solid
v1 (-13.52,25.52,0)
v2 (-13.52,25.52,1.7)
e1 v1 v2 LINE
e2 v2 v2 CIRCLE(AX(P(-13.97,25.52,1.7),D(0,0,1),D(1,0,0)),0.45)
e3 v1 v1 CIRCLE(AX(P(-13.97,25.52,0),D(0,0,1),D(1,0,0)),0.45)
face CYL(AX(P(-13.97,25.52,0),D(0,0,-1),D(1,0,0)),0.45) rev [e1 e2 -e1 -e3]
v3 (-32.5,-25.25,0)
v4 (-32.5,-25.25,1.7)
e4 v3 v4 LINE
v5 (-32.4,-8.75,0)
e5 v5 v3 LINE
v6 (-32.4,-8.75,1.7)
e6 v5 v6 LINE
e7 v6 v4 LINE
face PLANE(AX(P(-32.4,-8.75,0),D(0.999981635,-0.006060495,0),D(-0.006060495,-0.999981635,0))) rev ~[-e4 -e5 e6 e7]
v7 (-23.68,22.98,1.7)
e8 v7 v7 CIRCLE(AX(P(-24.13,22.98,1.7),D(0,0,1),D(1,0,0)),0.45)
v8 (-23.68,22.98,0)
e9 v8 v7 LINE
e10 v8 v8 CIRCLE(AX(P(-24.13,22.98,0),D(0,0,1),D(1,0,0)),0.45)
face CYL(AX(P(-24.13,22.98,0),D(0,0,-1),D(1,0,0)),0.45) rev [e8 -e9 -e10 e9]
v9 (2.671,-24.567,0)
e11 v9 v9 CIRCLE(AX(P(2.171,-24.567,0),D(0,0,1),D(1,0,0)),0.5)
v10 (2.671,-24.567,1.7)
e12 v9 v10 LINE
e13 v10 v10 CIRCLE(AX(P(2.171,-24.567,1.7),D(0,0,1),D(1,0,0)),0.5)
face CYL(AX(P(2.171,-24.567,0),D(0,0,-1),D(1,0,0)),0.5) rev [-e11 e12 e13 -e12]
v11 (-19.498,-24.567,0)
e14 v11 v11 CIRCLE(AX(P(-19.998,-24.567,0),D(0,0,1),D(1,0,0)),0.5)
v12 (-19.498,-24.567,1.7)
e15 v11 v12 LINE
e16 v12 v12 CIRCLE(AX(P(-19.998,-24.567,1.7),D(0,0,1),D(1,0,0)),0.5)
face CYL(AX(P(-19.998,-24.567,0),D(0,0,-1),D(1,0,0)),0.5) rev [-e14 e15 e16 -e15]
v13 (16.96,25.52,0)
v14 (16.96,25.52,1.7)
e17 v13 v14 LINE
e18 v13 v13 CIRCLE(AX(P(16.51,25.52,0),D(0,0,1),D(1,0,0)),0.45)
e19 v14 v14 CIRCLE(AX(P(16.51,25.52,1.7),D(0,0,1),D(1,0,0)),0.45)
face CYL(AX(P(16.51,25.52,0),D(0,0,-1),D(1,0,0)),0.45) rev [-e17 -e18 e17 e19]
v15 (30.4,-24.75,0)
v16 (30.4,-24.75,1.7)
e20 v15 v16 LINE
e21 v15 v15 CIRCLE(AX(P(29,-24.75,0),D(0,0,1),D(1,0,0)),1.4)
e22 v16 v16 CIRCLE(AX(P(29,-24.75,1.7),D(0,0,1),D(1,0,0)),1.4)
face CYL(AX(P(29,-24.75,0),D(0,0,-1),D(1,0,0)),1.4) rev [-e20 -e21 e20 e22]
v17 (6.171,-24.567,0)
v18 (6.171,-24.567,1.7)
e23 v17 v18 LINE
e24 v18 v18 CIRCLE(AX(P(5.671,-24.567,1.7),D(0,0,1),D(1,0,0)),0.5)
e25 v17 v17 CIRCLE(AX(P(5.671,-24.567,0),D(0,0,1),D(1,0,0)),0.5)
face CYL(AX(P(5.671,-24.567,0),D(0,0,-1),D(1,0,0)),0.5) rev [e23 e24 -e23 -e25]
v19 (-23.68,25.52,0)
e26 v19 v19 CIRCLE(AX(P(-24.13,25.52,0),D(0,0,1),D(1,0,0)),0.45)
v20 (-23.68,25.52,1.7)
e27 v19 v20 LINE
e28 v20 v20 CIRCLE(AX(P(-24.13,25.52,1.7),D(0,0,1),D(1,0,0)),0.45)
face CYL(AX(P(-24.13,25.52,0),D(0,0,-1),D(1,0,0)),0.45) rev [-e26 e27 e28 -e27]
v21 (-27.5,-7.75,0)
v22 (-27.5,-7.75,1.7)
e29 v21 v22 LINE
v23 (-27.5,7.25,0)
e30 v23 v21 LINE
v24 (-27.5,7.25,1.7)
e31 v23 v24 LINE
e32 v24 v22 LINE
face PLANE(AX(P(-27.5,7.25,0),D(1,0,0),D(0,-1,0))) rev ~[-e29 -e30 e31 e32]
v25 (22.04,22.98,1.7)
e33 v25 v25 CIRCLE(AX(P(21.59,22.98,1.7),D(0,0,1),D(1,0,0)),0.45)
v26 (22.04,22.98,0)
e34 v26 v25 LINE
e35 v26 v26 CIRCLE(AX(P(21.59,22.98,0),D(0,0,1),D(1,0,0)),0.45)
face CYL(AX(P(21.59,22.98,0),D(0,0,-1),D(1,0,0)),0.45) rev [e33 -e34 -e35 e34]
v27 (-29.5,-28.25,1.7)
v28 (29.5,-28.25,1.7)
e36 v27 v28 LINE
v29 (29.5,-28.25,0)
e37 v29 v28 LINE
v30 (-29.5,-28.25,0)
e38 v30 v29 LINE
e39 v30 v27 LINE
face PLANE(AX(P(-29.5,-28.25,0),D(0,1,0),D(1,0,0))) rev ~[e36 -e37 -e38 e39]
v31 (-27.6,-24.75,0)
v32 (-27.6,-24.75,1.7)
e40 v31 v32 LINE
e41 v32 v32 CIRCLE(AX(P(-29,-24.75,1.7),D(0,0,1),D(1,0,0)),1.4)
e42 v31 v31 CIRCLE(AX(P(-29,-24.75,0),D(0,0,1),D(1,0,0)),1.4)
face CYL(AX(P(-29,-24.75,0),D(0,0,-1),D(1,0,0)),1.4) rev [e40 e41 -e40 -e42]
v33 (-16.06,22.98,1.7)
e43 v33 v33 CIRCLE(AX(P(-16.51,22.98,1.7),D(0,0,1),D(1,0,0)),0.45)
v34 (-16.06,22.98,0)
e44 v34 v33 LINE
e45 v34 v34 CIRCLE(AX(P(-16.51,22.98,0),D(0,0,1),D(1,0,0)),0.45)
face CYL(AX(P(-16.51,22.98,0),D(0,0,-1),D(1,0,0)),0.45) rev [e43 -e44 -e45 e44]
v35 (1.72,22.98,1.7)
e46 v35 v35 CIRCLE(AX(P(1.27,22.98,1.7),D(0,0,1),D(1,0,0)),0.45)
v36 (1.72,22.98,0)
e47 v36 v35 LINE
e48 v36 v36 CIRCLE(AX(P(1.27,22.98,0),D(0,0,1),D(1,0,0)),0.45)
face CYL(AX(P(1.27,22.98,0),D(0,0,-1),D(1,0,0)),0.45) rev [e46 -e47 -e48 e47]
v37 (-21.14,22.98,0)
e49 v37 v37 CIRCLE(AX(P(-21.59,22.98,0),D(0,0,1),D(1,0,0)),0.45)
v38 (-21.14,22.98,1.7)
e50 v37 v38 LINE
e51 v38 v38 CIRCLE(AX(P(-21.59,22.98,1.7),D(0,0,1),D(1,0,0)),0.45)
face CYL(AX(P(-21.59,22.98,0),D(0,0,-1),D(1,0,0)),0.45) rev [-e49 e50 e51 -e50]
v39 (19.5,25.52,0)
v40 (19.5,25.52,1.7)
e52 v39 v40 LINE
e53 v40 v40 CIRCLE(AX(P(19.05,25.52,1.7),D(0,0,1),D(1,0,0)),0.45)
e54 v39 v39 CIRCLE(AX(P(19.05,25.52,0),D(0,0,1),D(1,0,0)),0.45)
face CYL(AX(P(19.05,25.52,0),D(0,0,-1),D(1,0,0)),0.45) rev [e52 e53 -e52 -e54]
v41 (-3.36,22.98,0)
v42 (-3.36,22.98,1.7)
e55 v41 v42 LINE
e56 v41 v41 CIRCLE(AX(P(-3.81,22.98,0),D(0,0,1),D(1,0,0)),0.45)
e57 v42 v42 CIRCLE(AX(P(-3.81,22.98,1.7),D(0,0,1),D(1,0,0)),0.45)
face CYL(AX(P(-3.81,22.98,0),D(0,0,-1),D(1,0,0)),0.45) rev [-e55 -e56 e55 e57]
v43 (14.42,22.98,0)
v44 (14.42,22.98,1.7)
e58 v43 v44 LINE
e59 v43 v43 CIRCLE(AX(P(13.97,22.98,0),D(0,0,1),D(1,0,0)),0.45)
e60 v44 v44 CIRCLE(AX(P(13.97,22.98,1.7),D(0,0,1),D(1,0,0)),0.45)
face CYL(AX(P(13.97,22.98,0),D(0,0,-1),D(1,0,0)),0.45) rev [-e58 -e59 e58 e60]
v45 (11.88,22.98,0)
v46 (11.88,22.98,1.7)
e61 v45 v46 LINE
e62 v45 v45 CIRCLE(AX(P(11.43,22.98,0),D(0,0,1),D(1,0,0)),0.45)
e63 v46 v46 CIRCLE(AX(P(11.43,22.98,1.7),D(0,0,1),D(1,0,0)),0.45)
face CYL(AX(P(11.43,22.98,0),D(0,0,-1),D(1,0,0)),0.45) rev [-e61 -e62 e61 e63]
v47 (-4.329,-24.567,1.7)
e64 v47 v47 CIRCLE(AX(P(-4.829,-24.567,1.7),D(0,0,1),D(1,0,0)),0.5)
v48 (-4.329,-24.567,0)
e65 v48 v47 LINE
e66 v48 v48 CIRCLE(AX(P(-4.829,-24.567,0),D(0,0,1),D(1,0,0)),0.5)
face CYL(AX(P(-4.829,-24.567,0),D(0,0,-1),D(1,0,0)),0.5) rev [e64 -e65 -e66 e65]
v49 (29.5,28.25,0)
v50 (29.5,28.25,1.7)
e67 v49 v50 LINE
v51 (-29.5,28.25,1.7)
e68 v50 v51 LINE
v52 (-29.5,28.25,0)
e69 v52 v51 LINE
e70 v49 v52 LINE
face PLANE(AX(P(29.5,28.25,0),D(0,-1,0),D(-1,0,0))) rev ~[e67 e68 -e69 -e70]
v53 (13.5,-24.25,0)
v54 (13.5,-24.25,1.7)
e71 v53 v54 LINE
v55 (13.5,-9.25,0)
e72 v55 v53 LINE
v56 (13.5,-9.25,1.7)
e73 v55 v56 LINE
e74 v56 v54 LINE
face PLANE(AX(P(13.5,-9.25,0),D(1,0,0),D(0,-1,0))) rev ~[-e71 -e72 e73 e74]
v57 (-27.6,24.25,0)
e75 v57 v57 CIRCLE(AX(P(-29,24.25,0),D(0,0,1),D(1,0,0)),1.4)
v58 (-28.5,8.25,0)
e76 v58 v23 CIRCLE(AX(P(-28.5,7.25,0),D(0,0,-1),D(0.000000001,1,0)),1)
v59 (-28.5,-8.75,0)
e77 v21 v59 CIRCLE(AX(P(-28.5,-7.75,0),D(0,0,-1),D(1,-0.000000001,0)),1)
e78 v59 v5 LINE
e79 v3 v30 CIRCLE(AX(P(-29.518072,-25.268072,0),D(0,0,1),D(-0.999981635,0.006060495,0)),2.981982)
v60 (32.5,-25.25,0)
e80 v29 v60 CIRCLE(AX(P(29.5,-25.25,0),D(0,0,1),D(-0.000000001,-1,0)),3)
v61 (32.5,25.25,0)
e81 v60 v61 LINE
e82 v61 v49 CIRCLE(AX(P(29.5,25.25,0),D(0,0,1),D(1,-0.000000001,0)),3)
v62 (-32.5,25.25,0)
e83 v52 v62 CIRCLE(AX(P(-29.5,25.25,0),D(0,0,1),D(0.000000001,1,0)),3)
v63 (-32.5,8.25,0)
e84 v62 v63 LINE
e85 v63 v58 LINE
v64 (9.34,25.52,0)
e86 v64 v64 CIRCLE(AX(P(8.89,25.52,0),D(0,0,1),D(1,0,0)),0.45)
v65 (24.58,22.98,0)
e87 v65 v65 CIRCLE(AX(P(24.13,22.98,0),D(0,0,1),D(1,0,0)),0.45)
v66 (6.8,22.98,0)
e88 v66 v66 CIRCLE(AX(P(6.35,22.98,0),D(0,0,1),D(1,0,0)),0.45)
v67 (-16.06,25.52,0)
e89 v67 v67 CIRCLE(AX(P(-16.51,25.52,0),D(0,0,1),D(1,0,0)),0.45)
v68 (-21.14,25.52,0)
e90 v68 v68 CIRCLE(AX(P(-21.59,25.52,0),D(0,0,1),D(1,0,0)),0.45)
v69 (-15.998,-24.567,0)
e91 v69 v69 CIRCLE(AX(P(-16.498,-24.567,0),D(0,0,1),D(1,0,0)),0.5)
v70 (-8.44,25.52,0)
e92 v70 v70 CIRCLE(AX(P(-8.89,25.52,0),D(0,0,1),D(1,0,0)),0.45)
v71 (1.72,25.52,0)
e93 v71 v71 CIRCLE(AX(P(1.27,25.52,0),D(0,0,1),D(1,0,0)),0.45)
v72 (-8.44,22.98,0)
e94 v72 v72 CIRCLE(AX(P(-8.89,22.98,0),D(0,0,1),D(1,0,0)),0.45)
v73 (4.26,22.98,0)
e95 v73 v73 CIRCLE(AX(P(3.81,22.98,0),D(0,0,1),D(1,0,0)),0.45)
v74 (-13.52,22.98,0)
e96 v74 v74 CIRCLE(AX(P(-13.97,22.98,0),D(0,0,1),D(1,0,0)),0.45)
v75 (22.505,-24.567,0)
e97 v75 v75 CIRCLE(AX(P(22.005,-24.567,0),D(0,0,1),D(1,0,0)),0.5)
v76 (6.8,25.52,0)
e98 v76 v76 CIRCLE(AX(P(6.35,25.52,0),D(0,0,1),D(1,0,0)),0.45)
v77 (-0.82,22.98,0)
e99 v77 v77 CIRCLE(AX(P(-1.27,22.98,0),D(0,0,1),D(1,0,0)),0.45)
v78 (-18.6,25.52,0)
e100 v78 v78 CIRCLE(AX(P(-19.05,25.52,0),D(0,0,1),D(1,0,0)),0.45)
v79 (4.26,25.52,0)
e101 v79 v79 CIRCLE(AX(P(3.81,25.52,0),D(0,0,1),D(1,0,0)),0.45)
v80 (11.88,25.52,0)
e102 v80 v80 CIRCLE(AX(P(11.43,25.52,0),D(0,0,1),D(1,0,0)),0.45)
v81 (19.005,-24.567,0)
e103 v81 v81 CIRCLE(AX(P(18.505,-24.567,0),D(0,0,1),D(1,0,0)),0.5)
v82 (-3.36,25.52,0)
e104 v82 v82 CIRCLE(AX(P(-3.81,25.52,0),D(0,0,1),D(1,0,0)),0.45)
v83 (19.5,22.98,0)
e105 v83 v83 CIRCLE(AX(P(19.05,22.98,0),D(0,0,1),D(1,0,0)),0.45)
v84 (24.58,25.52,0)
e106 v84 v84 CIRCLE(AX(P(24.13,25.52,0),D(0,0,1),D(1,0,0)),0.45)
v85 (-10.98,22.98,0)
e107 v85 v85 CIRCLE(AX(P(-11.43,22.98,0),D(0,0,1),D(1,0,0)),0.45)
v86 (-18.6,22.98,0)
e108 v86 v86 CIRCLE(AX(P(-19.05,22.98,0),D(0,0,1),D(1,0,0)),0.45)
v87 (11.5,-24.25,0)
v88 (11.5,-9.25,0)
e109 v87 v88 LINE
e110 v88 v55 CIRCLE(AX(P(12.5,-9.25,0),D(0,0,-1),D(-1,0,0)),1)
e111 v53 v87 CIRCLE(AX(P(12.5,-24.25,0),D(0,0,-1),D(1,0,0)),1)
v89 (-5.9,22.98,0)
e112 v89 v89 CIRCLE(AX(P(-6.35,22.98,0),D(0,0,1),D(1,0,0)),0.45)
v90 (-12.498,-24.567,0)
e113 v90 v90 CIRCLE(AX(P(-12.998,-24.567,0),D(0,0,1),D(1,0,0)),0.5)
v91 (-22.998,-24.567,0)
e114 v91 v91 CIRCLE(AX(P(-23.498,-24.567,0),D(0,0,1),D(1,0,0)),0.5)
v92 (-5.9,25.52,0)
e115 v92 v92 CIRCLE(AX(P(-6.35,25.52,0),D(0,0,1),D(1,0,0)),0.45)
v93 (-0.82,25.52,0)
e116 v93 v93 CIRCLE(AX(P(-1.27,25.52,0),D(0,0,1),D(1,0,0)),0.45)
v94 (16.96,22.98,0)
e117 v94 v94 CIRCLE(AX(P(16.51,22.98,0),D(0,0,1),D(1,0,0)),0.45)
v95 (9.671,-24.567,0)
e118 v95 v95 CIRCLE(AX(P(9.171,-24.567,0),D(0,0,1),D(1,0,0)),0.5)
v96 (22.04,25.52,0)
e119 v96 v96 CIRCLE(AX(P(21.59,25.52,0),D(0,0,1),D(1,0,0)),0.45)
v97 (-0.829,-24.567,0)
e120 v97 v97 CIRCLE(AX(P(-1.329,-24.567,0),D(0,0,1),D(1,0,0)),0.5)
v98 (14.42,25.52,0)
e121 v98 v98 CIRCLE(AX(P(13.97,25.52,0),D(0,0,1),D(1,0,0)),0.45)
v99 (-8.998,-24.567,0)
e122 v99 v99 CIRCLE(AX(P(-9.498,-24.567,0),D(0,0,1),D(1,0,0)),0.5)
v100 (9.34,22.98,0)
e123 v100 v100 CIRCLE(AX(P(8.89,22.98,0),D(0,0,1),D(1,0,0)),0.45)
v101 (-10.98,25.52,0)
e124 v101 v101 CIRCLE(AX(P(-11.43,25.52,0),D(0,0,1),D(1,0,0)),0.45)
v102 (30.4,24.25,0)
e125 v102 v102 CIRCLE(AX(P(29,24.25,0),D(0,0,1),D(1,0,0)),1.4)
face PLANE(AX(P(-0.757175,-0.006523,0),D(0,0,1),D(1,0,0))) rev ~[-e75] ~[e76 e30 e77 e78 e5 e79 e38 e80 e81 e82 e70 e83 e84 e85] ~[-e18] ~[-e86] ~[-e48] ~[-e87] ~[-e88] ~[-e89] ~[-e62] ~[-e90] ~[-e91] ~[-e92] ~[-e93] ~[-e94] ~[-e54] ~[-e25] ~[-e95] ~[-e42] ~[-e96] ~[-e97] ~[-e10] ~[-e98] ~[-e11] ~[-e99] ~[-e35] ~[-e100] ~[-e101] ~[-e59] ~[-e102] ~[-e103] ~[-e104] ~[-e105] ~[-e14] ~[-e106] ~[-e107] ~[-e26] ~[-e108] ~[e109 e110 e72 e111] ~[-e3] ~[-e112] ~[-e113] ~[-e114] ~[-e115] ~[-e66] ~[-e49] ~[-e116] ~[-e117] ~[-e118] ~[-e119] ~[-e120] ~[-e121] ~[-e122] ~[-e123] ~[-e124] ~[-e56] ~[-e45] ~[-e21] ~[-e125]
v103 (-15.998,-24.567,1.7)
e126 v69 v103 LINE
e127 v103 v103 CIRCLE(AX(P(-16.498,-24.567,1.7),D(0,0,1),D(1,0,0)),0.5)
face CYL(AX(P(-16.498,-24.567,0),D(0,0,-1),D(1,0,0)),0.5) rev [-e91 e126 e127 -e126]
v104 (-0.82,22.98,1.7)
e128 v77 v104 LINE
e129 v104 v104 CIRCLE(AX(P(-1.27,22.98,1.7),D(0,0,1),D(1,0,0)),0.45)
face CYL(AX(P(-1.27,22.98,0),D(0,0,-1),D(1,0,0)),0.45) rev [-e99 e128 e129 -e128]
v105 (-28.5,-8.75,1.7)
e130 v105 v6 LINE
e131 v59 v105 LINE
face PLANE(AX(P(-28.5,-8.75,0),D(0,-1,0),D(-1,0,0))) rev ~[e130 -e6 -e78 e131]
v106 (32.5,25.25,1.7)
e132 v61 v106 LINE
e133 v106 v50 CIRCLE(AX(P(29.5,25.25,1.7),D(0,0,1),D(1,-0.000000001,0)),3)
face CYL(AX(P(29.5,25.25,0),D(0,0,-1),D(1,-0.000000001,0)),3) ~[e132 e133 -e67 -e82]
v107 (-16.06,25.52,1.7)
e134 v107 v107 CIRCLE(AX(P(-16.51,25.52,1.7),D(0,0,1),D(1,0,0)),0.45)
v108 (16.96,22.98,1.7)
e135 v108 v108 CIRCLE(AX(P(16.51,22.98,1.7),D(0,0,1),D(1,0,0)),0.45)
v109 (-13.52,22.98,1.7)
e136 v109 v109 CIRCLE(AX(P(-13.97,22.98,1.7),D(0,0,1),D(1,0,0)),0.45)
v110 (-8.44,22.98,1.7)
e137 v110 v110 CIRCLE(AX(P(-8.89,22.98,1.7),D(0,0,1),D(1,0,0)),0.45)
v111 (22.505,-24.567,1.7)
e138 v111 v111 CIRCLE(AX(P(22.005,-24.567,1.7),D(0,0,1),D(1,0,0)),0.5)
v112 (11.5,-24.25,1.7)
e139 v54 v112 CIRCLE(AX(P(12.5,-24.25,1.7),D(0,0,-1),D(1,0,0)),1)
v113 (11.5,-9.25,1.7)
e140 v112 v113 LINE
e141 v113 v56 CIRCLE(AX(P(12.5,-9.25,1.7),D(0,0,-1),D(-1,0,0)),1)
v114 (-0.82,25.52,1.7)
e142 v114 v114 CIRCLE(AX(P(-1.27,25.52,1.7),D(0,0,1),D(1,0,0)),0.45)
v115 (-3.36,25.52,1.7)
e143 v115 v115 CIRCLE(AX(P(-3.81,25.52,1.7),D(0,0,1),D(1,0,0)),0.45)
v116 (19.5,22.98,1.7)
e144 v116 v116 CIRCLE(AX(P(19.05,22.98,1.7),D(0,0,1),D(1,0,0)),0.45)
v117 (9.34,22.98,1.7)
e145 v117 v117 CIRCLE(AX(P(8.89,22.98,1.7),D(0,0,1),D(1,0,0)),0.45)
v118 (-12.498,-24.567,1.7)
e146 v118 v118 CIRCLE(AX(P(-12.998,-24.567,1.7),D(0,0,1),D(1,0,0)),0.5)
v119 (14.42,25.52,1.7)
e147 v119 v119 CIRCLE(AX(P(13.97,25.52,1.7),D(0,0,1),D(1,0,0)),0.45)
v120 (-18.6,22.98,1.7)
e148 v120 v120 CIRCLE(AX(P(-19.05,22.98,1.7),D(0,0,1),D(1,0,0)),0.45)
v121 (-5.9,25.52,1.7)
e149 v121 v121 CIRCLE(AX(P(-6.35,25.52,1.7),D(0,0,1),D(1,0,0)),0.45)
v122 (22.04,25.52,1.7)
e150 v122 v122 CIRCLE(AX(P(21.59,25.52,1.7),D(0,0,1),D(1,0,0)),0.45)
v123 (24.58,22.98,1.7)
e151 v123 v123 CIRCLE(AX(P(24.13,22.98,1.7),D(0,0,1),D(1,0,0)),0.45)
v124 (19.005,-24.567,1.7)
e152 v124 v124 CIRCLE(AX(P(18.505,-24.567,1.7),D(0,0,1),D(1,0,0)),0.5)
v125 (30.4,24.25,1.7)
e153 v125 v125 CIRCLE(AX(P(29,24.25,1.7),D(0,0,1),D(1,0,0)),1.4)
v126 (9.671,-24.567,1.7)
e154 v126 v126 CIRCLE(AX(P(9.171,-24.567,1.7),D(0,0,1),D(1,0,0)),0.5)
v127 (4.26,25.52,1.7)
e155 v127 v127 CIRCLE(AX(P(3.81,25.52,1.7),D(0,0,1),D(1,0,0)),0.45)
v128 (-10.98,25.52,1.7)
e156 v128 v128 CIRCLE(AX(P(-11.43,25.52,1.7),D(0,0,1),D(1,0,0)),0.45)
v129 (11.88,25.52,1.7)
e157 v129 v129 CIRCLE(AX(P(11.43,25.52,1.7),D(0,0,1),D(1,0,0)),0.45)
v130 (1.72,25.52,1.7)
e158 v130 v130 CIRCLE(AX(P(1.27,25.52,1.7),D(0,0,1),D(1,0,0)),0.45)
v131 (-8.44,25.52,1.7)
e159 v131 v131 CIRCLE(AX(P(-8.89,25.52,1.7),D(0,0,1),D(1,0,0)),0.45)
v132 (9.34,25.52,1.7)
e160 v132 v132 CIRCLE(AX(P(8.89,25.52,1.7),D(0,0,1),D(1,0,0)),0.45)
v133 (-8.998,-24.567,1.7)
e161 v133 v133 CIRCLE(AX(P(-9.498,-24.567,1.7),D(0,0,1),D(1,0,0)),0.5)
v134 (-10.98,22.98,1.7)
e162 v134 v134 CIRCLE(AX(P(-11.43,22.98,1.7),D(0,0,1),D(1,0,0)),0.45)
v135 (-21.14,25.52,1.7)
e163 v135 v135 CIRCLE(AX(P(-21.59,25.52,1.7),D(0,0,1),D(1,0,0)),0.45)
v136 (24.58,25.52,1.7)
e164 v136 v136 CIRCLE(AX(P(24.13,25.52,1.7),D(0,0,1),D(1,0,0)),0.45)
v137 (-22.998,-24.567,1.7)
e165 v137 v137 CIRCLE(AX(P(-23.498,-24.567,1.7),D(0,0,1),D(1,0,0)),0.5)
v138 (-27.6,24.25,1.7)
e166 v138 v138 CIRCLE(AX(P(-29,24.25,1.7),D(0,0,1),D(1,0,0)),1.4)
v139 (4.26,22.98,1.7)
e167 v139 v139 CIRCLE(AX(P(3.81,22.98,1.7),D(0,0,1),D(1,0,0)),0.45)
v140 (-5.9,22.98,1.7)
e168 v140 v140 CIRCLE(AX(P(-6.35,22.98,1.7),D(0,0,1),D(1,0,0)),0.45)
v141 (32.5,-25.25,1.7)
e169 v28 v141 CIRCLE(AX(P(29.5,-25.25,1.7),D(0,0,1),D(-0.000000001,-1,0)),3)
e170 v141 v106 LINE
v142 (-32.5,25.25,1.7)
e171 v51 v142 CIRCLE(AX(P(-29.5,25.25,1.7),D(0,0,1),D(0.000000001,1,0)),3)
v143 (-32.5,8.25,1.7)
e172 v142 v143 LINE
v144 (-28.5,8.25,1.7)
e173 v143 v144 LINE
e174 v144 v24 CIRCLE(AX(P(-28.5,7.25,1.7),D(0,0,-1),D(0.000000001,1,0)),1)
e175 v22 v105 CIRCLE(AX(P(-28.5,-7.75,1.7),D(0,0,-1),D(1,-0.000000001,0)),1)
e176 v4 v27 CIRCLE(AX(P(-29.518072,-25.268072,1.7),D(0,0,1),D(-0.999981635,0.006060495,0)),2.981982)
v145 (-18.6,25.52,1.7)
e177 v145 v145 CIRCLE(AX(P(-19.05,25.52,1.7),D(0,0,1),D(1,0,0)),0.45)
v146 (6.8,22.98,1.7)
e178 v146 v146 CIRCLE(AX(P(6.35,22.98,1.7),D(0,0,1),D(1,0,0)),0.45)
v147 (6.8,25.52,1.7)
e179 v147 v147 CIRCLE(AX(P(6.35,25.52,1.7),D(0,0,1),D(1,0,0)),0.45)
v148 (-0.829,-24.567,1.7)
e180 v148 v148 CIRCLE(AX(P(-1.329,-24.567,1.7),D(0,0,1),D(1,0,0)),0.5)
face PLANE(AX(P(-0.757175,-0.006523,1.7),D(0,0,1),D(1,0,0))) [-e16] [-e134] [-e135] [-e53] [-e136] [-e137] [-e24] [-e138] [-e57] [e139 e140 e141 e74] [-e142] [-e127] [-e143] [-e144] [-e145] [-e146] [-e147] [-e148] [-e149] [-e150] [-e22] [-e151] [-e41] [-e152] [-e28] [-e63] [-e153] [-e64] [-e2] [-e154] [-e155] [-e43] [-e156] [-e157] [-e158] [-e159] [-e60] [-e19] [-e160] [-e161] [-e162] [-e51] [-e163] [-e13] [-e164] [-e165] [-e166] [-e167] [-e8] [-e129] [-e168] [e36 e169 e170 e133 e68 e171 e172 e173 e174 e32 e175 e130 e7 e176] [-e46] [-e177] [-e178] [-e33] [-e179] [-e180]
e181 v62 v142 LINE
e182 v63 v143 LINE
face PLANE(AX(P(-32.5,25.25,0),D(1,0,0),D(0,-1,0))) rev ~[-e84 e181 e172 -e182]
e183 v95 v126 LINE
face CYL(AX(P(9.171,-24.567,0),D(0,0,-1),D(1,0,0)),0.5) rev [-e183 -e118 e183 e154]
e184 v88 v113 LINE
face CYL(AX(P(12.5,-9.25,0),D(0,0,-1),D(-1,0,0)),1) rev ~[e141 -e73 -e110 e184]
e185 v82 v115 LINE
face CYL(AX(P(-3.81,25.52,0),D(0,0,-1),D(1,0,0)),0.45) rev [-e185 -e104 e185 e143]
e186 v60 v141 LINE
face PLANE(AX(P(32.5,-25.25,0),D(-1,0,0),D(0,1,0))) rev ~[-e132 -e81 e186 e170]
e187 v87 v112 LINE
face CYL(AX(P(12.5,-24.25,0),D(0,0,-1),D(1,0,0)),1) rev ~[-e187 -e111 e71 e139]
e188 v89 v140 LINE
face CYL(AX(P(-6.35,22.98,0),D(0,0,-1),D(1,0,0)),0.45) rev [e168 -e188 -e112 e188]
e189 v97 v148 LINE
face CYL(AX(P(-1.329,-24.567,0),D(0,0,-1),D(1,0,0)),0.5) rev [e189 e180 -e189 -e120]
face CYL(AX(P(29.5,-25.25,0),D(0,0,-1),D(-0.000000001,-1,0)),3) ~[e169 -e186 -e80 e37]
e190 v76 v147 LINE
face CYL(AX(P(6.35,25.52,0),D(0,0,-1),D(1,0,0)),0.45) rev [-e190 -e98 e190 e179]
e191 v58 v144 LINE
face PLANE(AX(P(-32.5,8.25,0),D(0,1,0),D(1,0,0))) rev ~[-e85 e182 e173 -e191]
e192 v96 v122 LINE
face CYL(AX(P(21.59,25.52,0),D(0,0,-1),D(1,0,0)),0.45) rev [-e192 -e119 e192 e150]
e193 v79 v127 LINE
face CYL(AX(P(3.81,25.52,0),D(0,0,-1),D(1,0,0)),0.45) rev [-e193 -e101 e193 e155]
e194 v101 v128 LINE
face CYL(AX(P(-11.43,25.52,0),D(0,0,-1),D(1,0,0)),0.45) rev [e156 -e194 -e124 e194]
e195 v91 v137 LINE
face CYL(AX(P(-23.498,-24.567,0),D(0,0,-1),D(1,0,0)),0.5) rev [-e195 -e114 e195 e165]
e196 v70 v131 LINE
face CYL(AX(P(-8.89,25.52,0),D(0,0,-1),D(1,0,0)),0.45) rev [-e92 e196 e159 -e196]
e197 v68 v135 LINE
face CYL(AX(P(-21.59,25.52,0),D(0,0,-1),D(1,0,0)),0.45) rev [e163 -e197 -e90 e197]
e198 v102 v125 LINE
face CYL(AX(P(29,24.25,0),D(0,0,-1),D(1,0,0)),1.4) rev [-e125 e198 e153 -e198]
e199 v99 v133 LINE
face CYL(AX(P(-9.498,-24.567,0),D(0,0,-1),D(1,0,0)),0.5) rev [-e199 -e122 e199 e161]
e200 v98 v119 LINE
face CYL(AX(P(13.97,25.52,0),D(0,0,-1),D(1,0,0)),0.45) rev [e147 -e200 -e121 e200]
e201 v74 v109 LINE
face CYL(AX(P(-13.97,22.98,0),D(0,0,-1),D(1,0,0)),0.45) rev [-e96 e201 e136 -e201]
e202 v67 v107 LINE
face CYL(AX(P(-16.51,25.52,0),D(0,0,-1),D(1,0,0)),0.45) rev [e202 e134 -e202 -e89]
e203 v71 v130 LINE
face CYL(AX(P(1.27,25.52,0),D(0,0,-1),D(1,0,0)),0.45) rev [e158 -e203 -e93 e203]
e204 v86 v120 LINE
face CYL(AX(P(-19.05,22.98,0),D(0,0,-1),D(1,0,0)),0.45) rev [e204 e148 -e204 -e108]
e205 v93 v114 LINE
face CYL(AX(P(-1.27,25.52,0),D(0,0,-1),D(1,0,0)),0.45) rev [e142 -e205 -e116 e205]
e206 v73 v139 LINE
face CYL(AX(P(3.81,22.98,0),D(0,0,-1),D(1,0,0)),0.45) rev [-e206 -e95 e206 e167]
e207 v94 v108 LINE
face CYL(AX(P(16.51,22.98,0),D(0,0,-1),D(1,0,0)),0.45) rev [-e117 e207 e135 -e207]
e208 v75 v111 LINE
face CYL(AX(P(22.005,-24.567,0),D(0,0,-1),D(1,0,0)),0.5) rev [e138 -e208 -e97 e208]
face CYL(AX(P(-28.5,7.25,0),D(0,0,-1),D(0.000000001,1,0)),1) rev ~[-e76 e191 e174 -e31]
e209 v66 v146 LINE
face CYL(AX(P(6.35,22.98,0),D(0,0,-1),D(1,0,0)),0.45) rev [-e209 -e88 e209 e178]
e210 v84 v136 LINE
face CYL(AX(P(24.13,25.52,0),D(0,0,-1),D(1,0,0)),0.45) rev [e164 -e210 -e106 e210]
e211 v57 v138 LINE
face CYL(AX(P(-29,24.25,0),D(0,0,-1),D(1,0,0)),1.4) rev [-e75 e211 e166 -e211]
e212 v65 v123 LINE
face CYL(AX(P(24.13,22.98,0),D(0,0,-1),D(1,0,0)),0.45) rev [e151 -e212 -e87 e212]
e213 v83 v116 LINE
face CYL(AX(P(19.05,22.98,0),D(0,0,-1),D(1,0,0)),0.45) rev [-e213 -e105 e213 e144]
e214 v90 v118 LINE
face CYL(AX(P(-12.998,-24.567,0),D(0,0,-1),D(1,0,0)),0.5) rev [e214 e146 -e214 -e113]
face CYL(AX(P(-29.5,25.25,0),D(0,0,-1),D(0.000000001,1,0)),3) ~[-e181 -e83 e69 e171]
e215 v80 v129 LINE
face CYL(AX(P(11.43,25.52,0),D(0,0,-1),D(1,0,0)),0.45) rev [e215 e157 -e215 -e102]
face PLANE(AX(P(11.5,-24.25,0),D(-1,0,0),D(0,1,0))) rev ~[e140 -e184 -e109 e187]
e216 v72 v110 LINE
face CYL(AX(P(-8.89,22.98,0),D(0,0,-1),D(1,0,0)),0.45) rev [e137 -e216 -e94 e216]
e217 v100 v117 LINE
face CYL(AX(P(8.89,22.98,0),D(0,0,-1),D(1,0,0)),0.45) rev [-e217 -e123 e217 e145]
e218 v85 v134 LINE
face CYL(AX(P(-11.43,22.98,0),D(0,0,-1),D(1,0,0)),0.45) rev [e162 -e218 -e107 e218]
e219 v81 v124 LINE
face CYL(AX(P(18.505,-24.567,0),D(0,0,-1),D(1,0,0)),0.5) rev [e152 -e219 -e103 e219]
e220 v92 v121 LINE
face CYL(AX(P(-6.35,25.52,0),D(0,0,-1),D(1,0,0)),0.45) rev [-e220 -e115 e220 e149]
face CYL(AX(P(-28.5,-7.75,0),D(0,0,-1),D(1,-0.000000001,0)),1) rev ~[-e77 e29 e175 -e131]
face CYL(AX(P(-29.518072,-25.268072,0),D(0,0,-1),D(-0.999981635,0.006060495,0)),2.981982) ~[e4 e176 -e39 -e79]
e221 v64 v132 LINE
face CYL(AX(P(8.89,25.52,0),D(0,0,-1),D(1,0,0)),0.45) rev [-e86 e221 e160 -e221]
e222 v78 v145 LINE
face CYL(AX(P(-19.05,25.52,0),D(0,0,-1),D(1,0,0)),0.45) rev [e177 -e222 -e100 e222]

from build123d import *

# Parameters (mm, degrees)
SKETCH2_R           = 1.4
SKETCH2_R_2         = 0.45
SKETCH2_R_3         = 0.5
BOSS_EXTRUDE1_DEPTH = 1.7


with BuildPart() as part:
    # Sketch2 → Boss-Extrude1 (new body)
    with BuildSketch(Plane.XY):
        with BuildLine():
            Line((29.5, 28.25), (-29.5, 28.25))
            ThreePointArc((-29.5, 28.25), (-31.621320344, 27.371320344), (-32.5, 25.25))
            Line((-32.5, 25.25), (-32.5, 8.25))
            Line((-32.5, 8.25), (-28.5, 8.25))
            ThreePointArc((-28.5, 8.25), (-27.792893219, 7.957106781), (-27.5, 7.25))
            Line((-27.5, 7.25), (-27.5, -7.75))
            ThreePointArc((-27.5, -7.75), (-27.792893219, -8.457106781), (-28.5, -8.75))
            Line((-28.5, -8.75), (-32.4, -8.75))
            Line((-32.4, -8.75), (-32.5, -25.25))
            ThreePointArc((-32.5, -25.25), (-31.626652319, -27.376652319), (-29.5, -28.25))
            Line((-29.5, -28.25), (29.5, -28.25))
            ThreePointArc((29.5, -28.25), (31.621320344, -27.371320344), (32.5, -25.25))
            Line((32.5, -25.25), (32.5, 25.25))
            ThreePointArc((32.5, 25.25), (31.621320344, 27.371320344), (29.5, 28.25))
        make_face()
        with Locations((-29, -24.75)):
            Circle(SKETCH2_R, mode=Mode.SUBTRACT)
        with Locations((-29, 24.25)):
            Circle(SKETCH2_R, mode=Mode.SUBTRACT)
        with Locations((29, 24.25)):
            Circle(SKETCH2_R, mode=Mode.SUBTRACT)
        with Locations((29, -24.75)):
            Circle(SKETCH2_R, mode=Mode.SUBTRACT)
        with Locations((-24.13, 25.52)):
            Circle(SKETCH2_R_2, mode=Mode.SUBTRACT)
        with Locations((-21.59, 25.52)):
            Circle(SKETCH2_R_2, mode=Mode.SUBTRACT)
        with Locations((-19.05, 25.52)):
            Circle(SKETCH2_R_2, mode=Mode.SUBTRACT)
        with Locations((-16.51, 25.52)):
            Circle(SKETCH2_R_2, mode=Mode.SUBTRACT)
        with Locations((-13.97, 25.52)):
            Circle(SKETCH2_R_2, mode=Mode.SUBTRACT)
        with Locations((-11.43, 25.52)):
            Circle(SKETCH2_R_2, mode=Mode.SUBTRACT)
        with Locations((-8.89, 25.52)):
            Circle(SKETCH2_R_2, mode=Mode.SUBTRACT)
        with Locations((-6.35, 25.52)):
            Circle(SKETCH2_R_2, mode=Mode.SUBTRACT)
        with Locations((-3.81, 25.52)):
            Circle(SKETCH2_R_2, mode=Mode.SUBTRACT)
        with Locations((-1.27, 25.52)):
            Circle(SKETCH2_R_2, mode=Mode.SUBTRACT)
        with Locations((1.27, 25.52)):
            Circle(SKETCH2_R_2, mode=Mode.SUBTRACT)
        with Locations((3.81, 25.52)):
            Circle(SKETCH2_R_2, mode=Mode.SUBTRACT)
        with Locations((6.35, 25.52)):
            Circle(SKETCH2_R_2, mode=Mode.SUBTRACT)
        with Locations((8.89, 25.52)):
            Circle(SKETCH2_R_2, mode=Mode.SUBTRACT)
        with Locations((11.43, 25.52)):
            Circle(SKETCH2_R_2, mode=Mode.SUBTRACT)
        with Locations((13.97, 25.52)):
            Circle(SKETCH2_R_2, mode=Mode.SUBTRACT)
        with Locations((16.51, 25.52)):
            Circle(SKETCH2_R_2, mode=Mode.SUBTRACT)
        with Locations((19.05, 25.52)):
            Circle(SKETCH2_R_2, mode=Mode.SUBTRACT)
        with Locations((21.59, 25.52)):
            Circle(SKETCH2_R_2, mode=Mode.SUBTRACT)
        with Locations((24.13, 25.52)):
            Circle(SKETCH2_R_2, mode=Mode.SUBTRACT)
        with Locations((-21.59, 22.98)):
            Circle(SKETCH2_R_2, mode=Mode.SUBTRACT)
        with Locations((-19.05, 22.98)):
            Circle(SKETCH2_R_2, mode=Mode.SUBTRACT)
        with Locations((-16.51, 22.98)):
            Circle(SKETCH2_R_2, mode=Mode.SUBTRACT)
        with Locations((-13.97, 22.98)):
            Circle(SKETCH2_R_2, mode=Mode.SUBTRACT)
        with Locations((-11.43, 22.98)):
            Circle(SKETCH2_R_2, mode=Mode.SUBTRACT)
        with Locations((-8.89, 22.98)):
            Circle(SKETCH2_R_2, mode=Mode.SUBTRACT)
        with Locations((-6.35, 22.98)):
            Circle(SKETCH2_R_2, mode=Mode.SUBTRACT)
        with Locations((-3.81, 22.98)):
            Circle(SKETCH2_R_2, mode=Mode.SUBTRACT)
        with Locations((-1.27, 22.98)):
            Circle(SKETCH2_R_2, mode=Mode.SUBTRACT)
        with Locations((1.27, 22.98)):
            Circle(SKETCH2_R_2, mode=Mode.SUBTRACT)
        with Locations((3.81, 22.98)):
            Circle(SKETCH2_R_2, mode=Mode.SUBTRACT)
        with Locations((6.35, 22.98)):
            Circle(SKETCH2_R_2, mode=Mode.SUBTRACT)
        with Locations((8.89, 22.98)):
            Circle(SKETCH2_R_2, mode=Mode.SUBTRACT)
        with Locations((11.43, 22.98)):
            Circle(SKETCH2_R_2, mode=Mode.SUBTRACT)
        with Locations((13.97, 22.98)):
            Circle(SKETCH2_R_2, mode=Mode.SUBTRACT)
        with Locations((16.51, 22.98)):
            Circle(SKETCH2_R_2, mode=Mode.SUBTRACT)
        with Locations((19.05, 22.98)):
            Circle(SKETCH2_R_2, mode=Mode.SUBTRACT)
        with Locations((21.59, 22.98)):
            Circle(SKETCH2_R_2, mode=Mode.SUBTRACT)
        with Locations((24.13, 22.98)):
            Circle(SKETCH2_R_2, mode=Mode.SUBTRACT)
        with Locations((-24.13, 22.98)):
            Circle(SKETCH2_R_2, mode=Mode.SUBTRACT)
        with Locations((-23.498, -24.567)):
            Circle(SKETCH2_R_3, mode=Mode.SUBTRACT)
        with Locations((-19.998, -24.567)):
            Circle(SKETCH2_R_3, mode=Mode.SUBTRACT)
        with Locations((-16.498, -24.567)):
            Circle(SKETCH2_R_3, mode=Mode.SUBTRACT)
        with Locations((-12.998, -24.567)):
            Circle(SKETCH2_R_3, mode=Mode.SUBTRACT)
        with Locations((-9.498, -24.567)):
            Circle(SKETCH2_R_3, mode=Mode.SUBTRACT)
        with Locations((-4.829, -24.567)):
            Circle(SKETCH2_R_3, mode=Mode.SUBTRACT)
        with Locations((-1.329, -24.567)):
            Circle(SKETCH2_R_3, mode=Mode.SUBTRACT)
        with Locations((2.171, -24.567)):
            Circle(SKETCH2_R_3, mode=Mode.SUBTRACT)
        with Locations((5.671, -24.567)):
            Circle(SKETCH2_R_3, mode=Mode.SUBTRACT)
        with Locations((9.171, -24.567)):
            Circle(SKETCH2_R_3, mode=Mode.SUBTRACT)
        with Locations((18.505, -24.567)):
            Circle(SKETCH2_R_3, mode=Mode.SUBTRACT)
        with Locations((22.005, -24.567)):
            Circle(SKETCH2_R_3, mode=Mode.SUBTRACT)
        with BuildLine():
            Line((13.5, -9.25), (13.5, -24.25))
            ThreePointArc((13.5, -24.25), (12.5, -25.25), (11.5, -24.25))
            Line((11.5, -24.25), (11.5, -9.25))
            ThreePointArc((11.5, -9.25), (12.5, -8.25), (13.5, -9.25))
        make_face(mode=Mode.SUBTRACT)
    extrude(amount=BOSS_EXTRUDE1_DEPTH)


solid = part.part
